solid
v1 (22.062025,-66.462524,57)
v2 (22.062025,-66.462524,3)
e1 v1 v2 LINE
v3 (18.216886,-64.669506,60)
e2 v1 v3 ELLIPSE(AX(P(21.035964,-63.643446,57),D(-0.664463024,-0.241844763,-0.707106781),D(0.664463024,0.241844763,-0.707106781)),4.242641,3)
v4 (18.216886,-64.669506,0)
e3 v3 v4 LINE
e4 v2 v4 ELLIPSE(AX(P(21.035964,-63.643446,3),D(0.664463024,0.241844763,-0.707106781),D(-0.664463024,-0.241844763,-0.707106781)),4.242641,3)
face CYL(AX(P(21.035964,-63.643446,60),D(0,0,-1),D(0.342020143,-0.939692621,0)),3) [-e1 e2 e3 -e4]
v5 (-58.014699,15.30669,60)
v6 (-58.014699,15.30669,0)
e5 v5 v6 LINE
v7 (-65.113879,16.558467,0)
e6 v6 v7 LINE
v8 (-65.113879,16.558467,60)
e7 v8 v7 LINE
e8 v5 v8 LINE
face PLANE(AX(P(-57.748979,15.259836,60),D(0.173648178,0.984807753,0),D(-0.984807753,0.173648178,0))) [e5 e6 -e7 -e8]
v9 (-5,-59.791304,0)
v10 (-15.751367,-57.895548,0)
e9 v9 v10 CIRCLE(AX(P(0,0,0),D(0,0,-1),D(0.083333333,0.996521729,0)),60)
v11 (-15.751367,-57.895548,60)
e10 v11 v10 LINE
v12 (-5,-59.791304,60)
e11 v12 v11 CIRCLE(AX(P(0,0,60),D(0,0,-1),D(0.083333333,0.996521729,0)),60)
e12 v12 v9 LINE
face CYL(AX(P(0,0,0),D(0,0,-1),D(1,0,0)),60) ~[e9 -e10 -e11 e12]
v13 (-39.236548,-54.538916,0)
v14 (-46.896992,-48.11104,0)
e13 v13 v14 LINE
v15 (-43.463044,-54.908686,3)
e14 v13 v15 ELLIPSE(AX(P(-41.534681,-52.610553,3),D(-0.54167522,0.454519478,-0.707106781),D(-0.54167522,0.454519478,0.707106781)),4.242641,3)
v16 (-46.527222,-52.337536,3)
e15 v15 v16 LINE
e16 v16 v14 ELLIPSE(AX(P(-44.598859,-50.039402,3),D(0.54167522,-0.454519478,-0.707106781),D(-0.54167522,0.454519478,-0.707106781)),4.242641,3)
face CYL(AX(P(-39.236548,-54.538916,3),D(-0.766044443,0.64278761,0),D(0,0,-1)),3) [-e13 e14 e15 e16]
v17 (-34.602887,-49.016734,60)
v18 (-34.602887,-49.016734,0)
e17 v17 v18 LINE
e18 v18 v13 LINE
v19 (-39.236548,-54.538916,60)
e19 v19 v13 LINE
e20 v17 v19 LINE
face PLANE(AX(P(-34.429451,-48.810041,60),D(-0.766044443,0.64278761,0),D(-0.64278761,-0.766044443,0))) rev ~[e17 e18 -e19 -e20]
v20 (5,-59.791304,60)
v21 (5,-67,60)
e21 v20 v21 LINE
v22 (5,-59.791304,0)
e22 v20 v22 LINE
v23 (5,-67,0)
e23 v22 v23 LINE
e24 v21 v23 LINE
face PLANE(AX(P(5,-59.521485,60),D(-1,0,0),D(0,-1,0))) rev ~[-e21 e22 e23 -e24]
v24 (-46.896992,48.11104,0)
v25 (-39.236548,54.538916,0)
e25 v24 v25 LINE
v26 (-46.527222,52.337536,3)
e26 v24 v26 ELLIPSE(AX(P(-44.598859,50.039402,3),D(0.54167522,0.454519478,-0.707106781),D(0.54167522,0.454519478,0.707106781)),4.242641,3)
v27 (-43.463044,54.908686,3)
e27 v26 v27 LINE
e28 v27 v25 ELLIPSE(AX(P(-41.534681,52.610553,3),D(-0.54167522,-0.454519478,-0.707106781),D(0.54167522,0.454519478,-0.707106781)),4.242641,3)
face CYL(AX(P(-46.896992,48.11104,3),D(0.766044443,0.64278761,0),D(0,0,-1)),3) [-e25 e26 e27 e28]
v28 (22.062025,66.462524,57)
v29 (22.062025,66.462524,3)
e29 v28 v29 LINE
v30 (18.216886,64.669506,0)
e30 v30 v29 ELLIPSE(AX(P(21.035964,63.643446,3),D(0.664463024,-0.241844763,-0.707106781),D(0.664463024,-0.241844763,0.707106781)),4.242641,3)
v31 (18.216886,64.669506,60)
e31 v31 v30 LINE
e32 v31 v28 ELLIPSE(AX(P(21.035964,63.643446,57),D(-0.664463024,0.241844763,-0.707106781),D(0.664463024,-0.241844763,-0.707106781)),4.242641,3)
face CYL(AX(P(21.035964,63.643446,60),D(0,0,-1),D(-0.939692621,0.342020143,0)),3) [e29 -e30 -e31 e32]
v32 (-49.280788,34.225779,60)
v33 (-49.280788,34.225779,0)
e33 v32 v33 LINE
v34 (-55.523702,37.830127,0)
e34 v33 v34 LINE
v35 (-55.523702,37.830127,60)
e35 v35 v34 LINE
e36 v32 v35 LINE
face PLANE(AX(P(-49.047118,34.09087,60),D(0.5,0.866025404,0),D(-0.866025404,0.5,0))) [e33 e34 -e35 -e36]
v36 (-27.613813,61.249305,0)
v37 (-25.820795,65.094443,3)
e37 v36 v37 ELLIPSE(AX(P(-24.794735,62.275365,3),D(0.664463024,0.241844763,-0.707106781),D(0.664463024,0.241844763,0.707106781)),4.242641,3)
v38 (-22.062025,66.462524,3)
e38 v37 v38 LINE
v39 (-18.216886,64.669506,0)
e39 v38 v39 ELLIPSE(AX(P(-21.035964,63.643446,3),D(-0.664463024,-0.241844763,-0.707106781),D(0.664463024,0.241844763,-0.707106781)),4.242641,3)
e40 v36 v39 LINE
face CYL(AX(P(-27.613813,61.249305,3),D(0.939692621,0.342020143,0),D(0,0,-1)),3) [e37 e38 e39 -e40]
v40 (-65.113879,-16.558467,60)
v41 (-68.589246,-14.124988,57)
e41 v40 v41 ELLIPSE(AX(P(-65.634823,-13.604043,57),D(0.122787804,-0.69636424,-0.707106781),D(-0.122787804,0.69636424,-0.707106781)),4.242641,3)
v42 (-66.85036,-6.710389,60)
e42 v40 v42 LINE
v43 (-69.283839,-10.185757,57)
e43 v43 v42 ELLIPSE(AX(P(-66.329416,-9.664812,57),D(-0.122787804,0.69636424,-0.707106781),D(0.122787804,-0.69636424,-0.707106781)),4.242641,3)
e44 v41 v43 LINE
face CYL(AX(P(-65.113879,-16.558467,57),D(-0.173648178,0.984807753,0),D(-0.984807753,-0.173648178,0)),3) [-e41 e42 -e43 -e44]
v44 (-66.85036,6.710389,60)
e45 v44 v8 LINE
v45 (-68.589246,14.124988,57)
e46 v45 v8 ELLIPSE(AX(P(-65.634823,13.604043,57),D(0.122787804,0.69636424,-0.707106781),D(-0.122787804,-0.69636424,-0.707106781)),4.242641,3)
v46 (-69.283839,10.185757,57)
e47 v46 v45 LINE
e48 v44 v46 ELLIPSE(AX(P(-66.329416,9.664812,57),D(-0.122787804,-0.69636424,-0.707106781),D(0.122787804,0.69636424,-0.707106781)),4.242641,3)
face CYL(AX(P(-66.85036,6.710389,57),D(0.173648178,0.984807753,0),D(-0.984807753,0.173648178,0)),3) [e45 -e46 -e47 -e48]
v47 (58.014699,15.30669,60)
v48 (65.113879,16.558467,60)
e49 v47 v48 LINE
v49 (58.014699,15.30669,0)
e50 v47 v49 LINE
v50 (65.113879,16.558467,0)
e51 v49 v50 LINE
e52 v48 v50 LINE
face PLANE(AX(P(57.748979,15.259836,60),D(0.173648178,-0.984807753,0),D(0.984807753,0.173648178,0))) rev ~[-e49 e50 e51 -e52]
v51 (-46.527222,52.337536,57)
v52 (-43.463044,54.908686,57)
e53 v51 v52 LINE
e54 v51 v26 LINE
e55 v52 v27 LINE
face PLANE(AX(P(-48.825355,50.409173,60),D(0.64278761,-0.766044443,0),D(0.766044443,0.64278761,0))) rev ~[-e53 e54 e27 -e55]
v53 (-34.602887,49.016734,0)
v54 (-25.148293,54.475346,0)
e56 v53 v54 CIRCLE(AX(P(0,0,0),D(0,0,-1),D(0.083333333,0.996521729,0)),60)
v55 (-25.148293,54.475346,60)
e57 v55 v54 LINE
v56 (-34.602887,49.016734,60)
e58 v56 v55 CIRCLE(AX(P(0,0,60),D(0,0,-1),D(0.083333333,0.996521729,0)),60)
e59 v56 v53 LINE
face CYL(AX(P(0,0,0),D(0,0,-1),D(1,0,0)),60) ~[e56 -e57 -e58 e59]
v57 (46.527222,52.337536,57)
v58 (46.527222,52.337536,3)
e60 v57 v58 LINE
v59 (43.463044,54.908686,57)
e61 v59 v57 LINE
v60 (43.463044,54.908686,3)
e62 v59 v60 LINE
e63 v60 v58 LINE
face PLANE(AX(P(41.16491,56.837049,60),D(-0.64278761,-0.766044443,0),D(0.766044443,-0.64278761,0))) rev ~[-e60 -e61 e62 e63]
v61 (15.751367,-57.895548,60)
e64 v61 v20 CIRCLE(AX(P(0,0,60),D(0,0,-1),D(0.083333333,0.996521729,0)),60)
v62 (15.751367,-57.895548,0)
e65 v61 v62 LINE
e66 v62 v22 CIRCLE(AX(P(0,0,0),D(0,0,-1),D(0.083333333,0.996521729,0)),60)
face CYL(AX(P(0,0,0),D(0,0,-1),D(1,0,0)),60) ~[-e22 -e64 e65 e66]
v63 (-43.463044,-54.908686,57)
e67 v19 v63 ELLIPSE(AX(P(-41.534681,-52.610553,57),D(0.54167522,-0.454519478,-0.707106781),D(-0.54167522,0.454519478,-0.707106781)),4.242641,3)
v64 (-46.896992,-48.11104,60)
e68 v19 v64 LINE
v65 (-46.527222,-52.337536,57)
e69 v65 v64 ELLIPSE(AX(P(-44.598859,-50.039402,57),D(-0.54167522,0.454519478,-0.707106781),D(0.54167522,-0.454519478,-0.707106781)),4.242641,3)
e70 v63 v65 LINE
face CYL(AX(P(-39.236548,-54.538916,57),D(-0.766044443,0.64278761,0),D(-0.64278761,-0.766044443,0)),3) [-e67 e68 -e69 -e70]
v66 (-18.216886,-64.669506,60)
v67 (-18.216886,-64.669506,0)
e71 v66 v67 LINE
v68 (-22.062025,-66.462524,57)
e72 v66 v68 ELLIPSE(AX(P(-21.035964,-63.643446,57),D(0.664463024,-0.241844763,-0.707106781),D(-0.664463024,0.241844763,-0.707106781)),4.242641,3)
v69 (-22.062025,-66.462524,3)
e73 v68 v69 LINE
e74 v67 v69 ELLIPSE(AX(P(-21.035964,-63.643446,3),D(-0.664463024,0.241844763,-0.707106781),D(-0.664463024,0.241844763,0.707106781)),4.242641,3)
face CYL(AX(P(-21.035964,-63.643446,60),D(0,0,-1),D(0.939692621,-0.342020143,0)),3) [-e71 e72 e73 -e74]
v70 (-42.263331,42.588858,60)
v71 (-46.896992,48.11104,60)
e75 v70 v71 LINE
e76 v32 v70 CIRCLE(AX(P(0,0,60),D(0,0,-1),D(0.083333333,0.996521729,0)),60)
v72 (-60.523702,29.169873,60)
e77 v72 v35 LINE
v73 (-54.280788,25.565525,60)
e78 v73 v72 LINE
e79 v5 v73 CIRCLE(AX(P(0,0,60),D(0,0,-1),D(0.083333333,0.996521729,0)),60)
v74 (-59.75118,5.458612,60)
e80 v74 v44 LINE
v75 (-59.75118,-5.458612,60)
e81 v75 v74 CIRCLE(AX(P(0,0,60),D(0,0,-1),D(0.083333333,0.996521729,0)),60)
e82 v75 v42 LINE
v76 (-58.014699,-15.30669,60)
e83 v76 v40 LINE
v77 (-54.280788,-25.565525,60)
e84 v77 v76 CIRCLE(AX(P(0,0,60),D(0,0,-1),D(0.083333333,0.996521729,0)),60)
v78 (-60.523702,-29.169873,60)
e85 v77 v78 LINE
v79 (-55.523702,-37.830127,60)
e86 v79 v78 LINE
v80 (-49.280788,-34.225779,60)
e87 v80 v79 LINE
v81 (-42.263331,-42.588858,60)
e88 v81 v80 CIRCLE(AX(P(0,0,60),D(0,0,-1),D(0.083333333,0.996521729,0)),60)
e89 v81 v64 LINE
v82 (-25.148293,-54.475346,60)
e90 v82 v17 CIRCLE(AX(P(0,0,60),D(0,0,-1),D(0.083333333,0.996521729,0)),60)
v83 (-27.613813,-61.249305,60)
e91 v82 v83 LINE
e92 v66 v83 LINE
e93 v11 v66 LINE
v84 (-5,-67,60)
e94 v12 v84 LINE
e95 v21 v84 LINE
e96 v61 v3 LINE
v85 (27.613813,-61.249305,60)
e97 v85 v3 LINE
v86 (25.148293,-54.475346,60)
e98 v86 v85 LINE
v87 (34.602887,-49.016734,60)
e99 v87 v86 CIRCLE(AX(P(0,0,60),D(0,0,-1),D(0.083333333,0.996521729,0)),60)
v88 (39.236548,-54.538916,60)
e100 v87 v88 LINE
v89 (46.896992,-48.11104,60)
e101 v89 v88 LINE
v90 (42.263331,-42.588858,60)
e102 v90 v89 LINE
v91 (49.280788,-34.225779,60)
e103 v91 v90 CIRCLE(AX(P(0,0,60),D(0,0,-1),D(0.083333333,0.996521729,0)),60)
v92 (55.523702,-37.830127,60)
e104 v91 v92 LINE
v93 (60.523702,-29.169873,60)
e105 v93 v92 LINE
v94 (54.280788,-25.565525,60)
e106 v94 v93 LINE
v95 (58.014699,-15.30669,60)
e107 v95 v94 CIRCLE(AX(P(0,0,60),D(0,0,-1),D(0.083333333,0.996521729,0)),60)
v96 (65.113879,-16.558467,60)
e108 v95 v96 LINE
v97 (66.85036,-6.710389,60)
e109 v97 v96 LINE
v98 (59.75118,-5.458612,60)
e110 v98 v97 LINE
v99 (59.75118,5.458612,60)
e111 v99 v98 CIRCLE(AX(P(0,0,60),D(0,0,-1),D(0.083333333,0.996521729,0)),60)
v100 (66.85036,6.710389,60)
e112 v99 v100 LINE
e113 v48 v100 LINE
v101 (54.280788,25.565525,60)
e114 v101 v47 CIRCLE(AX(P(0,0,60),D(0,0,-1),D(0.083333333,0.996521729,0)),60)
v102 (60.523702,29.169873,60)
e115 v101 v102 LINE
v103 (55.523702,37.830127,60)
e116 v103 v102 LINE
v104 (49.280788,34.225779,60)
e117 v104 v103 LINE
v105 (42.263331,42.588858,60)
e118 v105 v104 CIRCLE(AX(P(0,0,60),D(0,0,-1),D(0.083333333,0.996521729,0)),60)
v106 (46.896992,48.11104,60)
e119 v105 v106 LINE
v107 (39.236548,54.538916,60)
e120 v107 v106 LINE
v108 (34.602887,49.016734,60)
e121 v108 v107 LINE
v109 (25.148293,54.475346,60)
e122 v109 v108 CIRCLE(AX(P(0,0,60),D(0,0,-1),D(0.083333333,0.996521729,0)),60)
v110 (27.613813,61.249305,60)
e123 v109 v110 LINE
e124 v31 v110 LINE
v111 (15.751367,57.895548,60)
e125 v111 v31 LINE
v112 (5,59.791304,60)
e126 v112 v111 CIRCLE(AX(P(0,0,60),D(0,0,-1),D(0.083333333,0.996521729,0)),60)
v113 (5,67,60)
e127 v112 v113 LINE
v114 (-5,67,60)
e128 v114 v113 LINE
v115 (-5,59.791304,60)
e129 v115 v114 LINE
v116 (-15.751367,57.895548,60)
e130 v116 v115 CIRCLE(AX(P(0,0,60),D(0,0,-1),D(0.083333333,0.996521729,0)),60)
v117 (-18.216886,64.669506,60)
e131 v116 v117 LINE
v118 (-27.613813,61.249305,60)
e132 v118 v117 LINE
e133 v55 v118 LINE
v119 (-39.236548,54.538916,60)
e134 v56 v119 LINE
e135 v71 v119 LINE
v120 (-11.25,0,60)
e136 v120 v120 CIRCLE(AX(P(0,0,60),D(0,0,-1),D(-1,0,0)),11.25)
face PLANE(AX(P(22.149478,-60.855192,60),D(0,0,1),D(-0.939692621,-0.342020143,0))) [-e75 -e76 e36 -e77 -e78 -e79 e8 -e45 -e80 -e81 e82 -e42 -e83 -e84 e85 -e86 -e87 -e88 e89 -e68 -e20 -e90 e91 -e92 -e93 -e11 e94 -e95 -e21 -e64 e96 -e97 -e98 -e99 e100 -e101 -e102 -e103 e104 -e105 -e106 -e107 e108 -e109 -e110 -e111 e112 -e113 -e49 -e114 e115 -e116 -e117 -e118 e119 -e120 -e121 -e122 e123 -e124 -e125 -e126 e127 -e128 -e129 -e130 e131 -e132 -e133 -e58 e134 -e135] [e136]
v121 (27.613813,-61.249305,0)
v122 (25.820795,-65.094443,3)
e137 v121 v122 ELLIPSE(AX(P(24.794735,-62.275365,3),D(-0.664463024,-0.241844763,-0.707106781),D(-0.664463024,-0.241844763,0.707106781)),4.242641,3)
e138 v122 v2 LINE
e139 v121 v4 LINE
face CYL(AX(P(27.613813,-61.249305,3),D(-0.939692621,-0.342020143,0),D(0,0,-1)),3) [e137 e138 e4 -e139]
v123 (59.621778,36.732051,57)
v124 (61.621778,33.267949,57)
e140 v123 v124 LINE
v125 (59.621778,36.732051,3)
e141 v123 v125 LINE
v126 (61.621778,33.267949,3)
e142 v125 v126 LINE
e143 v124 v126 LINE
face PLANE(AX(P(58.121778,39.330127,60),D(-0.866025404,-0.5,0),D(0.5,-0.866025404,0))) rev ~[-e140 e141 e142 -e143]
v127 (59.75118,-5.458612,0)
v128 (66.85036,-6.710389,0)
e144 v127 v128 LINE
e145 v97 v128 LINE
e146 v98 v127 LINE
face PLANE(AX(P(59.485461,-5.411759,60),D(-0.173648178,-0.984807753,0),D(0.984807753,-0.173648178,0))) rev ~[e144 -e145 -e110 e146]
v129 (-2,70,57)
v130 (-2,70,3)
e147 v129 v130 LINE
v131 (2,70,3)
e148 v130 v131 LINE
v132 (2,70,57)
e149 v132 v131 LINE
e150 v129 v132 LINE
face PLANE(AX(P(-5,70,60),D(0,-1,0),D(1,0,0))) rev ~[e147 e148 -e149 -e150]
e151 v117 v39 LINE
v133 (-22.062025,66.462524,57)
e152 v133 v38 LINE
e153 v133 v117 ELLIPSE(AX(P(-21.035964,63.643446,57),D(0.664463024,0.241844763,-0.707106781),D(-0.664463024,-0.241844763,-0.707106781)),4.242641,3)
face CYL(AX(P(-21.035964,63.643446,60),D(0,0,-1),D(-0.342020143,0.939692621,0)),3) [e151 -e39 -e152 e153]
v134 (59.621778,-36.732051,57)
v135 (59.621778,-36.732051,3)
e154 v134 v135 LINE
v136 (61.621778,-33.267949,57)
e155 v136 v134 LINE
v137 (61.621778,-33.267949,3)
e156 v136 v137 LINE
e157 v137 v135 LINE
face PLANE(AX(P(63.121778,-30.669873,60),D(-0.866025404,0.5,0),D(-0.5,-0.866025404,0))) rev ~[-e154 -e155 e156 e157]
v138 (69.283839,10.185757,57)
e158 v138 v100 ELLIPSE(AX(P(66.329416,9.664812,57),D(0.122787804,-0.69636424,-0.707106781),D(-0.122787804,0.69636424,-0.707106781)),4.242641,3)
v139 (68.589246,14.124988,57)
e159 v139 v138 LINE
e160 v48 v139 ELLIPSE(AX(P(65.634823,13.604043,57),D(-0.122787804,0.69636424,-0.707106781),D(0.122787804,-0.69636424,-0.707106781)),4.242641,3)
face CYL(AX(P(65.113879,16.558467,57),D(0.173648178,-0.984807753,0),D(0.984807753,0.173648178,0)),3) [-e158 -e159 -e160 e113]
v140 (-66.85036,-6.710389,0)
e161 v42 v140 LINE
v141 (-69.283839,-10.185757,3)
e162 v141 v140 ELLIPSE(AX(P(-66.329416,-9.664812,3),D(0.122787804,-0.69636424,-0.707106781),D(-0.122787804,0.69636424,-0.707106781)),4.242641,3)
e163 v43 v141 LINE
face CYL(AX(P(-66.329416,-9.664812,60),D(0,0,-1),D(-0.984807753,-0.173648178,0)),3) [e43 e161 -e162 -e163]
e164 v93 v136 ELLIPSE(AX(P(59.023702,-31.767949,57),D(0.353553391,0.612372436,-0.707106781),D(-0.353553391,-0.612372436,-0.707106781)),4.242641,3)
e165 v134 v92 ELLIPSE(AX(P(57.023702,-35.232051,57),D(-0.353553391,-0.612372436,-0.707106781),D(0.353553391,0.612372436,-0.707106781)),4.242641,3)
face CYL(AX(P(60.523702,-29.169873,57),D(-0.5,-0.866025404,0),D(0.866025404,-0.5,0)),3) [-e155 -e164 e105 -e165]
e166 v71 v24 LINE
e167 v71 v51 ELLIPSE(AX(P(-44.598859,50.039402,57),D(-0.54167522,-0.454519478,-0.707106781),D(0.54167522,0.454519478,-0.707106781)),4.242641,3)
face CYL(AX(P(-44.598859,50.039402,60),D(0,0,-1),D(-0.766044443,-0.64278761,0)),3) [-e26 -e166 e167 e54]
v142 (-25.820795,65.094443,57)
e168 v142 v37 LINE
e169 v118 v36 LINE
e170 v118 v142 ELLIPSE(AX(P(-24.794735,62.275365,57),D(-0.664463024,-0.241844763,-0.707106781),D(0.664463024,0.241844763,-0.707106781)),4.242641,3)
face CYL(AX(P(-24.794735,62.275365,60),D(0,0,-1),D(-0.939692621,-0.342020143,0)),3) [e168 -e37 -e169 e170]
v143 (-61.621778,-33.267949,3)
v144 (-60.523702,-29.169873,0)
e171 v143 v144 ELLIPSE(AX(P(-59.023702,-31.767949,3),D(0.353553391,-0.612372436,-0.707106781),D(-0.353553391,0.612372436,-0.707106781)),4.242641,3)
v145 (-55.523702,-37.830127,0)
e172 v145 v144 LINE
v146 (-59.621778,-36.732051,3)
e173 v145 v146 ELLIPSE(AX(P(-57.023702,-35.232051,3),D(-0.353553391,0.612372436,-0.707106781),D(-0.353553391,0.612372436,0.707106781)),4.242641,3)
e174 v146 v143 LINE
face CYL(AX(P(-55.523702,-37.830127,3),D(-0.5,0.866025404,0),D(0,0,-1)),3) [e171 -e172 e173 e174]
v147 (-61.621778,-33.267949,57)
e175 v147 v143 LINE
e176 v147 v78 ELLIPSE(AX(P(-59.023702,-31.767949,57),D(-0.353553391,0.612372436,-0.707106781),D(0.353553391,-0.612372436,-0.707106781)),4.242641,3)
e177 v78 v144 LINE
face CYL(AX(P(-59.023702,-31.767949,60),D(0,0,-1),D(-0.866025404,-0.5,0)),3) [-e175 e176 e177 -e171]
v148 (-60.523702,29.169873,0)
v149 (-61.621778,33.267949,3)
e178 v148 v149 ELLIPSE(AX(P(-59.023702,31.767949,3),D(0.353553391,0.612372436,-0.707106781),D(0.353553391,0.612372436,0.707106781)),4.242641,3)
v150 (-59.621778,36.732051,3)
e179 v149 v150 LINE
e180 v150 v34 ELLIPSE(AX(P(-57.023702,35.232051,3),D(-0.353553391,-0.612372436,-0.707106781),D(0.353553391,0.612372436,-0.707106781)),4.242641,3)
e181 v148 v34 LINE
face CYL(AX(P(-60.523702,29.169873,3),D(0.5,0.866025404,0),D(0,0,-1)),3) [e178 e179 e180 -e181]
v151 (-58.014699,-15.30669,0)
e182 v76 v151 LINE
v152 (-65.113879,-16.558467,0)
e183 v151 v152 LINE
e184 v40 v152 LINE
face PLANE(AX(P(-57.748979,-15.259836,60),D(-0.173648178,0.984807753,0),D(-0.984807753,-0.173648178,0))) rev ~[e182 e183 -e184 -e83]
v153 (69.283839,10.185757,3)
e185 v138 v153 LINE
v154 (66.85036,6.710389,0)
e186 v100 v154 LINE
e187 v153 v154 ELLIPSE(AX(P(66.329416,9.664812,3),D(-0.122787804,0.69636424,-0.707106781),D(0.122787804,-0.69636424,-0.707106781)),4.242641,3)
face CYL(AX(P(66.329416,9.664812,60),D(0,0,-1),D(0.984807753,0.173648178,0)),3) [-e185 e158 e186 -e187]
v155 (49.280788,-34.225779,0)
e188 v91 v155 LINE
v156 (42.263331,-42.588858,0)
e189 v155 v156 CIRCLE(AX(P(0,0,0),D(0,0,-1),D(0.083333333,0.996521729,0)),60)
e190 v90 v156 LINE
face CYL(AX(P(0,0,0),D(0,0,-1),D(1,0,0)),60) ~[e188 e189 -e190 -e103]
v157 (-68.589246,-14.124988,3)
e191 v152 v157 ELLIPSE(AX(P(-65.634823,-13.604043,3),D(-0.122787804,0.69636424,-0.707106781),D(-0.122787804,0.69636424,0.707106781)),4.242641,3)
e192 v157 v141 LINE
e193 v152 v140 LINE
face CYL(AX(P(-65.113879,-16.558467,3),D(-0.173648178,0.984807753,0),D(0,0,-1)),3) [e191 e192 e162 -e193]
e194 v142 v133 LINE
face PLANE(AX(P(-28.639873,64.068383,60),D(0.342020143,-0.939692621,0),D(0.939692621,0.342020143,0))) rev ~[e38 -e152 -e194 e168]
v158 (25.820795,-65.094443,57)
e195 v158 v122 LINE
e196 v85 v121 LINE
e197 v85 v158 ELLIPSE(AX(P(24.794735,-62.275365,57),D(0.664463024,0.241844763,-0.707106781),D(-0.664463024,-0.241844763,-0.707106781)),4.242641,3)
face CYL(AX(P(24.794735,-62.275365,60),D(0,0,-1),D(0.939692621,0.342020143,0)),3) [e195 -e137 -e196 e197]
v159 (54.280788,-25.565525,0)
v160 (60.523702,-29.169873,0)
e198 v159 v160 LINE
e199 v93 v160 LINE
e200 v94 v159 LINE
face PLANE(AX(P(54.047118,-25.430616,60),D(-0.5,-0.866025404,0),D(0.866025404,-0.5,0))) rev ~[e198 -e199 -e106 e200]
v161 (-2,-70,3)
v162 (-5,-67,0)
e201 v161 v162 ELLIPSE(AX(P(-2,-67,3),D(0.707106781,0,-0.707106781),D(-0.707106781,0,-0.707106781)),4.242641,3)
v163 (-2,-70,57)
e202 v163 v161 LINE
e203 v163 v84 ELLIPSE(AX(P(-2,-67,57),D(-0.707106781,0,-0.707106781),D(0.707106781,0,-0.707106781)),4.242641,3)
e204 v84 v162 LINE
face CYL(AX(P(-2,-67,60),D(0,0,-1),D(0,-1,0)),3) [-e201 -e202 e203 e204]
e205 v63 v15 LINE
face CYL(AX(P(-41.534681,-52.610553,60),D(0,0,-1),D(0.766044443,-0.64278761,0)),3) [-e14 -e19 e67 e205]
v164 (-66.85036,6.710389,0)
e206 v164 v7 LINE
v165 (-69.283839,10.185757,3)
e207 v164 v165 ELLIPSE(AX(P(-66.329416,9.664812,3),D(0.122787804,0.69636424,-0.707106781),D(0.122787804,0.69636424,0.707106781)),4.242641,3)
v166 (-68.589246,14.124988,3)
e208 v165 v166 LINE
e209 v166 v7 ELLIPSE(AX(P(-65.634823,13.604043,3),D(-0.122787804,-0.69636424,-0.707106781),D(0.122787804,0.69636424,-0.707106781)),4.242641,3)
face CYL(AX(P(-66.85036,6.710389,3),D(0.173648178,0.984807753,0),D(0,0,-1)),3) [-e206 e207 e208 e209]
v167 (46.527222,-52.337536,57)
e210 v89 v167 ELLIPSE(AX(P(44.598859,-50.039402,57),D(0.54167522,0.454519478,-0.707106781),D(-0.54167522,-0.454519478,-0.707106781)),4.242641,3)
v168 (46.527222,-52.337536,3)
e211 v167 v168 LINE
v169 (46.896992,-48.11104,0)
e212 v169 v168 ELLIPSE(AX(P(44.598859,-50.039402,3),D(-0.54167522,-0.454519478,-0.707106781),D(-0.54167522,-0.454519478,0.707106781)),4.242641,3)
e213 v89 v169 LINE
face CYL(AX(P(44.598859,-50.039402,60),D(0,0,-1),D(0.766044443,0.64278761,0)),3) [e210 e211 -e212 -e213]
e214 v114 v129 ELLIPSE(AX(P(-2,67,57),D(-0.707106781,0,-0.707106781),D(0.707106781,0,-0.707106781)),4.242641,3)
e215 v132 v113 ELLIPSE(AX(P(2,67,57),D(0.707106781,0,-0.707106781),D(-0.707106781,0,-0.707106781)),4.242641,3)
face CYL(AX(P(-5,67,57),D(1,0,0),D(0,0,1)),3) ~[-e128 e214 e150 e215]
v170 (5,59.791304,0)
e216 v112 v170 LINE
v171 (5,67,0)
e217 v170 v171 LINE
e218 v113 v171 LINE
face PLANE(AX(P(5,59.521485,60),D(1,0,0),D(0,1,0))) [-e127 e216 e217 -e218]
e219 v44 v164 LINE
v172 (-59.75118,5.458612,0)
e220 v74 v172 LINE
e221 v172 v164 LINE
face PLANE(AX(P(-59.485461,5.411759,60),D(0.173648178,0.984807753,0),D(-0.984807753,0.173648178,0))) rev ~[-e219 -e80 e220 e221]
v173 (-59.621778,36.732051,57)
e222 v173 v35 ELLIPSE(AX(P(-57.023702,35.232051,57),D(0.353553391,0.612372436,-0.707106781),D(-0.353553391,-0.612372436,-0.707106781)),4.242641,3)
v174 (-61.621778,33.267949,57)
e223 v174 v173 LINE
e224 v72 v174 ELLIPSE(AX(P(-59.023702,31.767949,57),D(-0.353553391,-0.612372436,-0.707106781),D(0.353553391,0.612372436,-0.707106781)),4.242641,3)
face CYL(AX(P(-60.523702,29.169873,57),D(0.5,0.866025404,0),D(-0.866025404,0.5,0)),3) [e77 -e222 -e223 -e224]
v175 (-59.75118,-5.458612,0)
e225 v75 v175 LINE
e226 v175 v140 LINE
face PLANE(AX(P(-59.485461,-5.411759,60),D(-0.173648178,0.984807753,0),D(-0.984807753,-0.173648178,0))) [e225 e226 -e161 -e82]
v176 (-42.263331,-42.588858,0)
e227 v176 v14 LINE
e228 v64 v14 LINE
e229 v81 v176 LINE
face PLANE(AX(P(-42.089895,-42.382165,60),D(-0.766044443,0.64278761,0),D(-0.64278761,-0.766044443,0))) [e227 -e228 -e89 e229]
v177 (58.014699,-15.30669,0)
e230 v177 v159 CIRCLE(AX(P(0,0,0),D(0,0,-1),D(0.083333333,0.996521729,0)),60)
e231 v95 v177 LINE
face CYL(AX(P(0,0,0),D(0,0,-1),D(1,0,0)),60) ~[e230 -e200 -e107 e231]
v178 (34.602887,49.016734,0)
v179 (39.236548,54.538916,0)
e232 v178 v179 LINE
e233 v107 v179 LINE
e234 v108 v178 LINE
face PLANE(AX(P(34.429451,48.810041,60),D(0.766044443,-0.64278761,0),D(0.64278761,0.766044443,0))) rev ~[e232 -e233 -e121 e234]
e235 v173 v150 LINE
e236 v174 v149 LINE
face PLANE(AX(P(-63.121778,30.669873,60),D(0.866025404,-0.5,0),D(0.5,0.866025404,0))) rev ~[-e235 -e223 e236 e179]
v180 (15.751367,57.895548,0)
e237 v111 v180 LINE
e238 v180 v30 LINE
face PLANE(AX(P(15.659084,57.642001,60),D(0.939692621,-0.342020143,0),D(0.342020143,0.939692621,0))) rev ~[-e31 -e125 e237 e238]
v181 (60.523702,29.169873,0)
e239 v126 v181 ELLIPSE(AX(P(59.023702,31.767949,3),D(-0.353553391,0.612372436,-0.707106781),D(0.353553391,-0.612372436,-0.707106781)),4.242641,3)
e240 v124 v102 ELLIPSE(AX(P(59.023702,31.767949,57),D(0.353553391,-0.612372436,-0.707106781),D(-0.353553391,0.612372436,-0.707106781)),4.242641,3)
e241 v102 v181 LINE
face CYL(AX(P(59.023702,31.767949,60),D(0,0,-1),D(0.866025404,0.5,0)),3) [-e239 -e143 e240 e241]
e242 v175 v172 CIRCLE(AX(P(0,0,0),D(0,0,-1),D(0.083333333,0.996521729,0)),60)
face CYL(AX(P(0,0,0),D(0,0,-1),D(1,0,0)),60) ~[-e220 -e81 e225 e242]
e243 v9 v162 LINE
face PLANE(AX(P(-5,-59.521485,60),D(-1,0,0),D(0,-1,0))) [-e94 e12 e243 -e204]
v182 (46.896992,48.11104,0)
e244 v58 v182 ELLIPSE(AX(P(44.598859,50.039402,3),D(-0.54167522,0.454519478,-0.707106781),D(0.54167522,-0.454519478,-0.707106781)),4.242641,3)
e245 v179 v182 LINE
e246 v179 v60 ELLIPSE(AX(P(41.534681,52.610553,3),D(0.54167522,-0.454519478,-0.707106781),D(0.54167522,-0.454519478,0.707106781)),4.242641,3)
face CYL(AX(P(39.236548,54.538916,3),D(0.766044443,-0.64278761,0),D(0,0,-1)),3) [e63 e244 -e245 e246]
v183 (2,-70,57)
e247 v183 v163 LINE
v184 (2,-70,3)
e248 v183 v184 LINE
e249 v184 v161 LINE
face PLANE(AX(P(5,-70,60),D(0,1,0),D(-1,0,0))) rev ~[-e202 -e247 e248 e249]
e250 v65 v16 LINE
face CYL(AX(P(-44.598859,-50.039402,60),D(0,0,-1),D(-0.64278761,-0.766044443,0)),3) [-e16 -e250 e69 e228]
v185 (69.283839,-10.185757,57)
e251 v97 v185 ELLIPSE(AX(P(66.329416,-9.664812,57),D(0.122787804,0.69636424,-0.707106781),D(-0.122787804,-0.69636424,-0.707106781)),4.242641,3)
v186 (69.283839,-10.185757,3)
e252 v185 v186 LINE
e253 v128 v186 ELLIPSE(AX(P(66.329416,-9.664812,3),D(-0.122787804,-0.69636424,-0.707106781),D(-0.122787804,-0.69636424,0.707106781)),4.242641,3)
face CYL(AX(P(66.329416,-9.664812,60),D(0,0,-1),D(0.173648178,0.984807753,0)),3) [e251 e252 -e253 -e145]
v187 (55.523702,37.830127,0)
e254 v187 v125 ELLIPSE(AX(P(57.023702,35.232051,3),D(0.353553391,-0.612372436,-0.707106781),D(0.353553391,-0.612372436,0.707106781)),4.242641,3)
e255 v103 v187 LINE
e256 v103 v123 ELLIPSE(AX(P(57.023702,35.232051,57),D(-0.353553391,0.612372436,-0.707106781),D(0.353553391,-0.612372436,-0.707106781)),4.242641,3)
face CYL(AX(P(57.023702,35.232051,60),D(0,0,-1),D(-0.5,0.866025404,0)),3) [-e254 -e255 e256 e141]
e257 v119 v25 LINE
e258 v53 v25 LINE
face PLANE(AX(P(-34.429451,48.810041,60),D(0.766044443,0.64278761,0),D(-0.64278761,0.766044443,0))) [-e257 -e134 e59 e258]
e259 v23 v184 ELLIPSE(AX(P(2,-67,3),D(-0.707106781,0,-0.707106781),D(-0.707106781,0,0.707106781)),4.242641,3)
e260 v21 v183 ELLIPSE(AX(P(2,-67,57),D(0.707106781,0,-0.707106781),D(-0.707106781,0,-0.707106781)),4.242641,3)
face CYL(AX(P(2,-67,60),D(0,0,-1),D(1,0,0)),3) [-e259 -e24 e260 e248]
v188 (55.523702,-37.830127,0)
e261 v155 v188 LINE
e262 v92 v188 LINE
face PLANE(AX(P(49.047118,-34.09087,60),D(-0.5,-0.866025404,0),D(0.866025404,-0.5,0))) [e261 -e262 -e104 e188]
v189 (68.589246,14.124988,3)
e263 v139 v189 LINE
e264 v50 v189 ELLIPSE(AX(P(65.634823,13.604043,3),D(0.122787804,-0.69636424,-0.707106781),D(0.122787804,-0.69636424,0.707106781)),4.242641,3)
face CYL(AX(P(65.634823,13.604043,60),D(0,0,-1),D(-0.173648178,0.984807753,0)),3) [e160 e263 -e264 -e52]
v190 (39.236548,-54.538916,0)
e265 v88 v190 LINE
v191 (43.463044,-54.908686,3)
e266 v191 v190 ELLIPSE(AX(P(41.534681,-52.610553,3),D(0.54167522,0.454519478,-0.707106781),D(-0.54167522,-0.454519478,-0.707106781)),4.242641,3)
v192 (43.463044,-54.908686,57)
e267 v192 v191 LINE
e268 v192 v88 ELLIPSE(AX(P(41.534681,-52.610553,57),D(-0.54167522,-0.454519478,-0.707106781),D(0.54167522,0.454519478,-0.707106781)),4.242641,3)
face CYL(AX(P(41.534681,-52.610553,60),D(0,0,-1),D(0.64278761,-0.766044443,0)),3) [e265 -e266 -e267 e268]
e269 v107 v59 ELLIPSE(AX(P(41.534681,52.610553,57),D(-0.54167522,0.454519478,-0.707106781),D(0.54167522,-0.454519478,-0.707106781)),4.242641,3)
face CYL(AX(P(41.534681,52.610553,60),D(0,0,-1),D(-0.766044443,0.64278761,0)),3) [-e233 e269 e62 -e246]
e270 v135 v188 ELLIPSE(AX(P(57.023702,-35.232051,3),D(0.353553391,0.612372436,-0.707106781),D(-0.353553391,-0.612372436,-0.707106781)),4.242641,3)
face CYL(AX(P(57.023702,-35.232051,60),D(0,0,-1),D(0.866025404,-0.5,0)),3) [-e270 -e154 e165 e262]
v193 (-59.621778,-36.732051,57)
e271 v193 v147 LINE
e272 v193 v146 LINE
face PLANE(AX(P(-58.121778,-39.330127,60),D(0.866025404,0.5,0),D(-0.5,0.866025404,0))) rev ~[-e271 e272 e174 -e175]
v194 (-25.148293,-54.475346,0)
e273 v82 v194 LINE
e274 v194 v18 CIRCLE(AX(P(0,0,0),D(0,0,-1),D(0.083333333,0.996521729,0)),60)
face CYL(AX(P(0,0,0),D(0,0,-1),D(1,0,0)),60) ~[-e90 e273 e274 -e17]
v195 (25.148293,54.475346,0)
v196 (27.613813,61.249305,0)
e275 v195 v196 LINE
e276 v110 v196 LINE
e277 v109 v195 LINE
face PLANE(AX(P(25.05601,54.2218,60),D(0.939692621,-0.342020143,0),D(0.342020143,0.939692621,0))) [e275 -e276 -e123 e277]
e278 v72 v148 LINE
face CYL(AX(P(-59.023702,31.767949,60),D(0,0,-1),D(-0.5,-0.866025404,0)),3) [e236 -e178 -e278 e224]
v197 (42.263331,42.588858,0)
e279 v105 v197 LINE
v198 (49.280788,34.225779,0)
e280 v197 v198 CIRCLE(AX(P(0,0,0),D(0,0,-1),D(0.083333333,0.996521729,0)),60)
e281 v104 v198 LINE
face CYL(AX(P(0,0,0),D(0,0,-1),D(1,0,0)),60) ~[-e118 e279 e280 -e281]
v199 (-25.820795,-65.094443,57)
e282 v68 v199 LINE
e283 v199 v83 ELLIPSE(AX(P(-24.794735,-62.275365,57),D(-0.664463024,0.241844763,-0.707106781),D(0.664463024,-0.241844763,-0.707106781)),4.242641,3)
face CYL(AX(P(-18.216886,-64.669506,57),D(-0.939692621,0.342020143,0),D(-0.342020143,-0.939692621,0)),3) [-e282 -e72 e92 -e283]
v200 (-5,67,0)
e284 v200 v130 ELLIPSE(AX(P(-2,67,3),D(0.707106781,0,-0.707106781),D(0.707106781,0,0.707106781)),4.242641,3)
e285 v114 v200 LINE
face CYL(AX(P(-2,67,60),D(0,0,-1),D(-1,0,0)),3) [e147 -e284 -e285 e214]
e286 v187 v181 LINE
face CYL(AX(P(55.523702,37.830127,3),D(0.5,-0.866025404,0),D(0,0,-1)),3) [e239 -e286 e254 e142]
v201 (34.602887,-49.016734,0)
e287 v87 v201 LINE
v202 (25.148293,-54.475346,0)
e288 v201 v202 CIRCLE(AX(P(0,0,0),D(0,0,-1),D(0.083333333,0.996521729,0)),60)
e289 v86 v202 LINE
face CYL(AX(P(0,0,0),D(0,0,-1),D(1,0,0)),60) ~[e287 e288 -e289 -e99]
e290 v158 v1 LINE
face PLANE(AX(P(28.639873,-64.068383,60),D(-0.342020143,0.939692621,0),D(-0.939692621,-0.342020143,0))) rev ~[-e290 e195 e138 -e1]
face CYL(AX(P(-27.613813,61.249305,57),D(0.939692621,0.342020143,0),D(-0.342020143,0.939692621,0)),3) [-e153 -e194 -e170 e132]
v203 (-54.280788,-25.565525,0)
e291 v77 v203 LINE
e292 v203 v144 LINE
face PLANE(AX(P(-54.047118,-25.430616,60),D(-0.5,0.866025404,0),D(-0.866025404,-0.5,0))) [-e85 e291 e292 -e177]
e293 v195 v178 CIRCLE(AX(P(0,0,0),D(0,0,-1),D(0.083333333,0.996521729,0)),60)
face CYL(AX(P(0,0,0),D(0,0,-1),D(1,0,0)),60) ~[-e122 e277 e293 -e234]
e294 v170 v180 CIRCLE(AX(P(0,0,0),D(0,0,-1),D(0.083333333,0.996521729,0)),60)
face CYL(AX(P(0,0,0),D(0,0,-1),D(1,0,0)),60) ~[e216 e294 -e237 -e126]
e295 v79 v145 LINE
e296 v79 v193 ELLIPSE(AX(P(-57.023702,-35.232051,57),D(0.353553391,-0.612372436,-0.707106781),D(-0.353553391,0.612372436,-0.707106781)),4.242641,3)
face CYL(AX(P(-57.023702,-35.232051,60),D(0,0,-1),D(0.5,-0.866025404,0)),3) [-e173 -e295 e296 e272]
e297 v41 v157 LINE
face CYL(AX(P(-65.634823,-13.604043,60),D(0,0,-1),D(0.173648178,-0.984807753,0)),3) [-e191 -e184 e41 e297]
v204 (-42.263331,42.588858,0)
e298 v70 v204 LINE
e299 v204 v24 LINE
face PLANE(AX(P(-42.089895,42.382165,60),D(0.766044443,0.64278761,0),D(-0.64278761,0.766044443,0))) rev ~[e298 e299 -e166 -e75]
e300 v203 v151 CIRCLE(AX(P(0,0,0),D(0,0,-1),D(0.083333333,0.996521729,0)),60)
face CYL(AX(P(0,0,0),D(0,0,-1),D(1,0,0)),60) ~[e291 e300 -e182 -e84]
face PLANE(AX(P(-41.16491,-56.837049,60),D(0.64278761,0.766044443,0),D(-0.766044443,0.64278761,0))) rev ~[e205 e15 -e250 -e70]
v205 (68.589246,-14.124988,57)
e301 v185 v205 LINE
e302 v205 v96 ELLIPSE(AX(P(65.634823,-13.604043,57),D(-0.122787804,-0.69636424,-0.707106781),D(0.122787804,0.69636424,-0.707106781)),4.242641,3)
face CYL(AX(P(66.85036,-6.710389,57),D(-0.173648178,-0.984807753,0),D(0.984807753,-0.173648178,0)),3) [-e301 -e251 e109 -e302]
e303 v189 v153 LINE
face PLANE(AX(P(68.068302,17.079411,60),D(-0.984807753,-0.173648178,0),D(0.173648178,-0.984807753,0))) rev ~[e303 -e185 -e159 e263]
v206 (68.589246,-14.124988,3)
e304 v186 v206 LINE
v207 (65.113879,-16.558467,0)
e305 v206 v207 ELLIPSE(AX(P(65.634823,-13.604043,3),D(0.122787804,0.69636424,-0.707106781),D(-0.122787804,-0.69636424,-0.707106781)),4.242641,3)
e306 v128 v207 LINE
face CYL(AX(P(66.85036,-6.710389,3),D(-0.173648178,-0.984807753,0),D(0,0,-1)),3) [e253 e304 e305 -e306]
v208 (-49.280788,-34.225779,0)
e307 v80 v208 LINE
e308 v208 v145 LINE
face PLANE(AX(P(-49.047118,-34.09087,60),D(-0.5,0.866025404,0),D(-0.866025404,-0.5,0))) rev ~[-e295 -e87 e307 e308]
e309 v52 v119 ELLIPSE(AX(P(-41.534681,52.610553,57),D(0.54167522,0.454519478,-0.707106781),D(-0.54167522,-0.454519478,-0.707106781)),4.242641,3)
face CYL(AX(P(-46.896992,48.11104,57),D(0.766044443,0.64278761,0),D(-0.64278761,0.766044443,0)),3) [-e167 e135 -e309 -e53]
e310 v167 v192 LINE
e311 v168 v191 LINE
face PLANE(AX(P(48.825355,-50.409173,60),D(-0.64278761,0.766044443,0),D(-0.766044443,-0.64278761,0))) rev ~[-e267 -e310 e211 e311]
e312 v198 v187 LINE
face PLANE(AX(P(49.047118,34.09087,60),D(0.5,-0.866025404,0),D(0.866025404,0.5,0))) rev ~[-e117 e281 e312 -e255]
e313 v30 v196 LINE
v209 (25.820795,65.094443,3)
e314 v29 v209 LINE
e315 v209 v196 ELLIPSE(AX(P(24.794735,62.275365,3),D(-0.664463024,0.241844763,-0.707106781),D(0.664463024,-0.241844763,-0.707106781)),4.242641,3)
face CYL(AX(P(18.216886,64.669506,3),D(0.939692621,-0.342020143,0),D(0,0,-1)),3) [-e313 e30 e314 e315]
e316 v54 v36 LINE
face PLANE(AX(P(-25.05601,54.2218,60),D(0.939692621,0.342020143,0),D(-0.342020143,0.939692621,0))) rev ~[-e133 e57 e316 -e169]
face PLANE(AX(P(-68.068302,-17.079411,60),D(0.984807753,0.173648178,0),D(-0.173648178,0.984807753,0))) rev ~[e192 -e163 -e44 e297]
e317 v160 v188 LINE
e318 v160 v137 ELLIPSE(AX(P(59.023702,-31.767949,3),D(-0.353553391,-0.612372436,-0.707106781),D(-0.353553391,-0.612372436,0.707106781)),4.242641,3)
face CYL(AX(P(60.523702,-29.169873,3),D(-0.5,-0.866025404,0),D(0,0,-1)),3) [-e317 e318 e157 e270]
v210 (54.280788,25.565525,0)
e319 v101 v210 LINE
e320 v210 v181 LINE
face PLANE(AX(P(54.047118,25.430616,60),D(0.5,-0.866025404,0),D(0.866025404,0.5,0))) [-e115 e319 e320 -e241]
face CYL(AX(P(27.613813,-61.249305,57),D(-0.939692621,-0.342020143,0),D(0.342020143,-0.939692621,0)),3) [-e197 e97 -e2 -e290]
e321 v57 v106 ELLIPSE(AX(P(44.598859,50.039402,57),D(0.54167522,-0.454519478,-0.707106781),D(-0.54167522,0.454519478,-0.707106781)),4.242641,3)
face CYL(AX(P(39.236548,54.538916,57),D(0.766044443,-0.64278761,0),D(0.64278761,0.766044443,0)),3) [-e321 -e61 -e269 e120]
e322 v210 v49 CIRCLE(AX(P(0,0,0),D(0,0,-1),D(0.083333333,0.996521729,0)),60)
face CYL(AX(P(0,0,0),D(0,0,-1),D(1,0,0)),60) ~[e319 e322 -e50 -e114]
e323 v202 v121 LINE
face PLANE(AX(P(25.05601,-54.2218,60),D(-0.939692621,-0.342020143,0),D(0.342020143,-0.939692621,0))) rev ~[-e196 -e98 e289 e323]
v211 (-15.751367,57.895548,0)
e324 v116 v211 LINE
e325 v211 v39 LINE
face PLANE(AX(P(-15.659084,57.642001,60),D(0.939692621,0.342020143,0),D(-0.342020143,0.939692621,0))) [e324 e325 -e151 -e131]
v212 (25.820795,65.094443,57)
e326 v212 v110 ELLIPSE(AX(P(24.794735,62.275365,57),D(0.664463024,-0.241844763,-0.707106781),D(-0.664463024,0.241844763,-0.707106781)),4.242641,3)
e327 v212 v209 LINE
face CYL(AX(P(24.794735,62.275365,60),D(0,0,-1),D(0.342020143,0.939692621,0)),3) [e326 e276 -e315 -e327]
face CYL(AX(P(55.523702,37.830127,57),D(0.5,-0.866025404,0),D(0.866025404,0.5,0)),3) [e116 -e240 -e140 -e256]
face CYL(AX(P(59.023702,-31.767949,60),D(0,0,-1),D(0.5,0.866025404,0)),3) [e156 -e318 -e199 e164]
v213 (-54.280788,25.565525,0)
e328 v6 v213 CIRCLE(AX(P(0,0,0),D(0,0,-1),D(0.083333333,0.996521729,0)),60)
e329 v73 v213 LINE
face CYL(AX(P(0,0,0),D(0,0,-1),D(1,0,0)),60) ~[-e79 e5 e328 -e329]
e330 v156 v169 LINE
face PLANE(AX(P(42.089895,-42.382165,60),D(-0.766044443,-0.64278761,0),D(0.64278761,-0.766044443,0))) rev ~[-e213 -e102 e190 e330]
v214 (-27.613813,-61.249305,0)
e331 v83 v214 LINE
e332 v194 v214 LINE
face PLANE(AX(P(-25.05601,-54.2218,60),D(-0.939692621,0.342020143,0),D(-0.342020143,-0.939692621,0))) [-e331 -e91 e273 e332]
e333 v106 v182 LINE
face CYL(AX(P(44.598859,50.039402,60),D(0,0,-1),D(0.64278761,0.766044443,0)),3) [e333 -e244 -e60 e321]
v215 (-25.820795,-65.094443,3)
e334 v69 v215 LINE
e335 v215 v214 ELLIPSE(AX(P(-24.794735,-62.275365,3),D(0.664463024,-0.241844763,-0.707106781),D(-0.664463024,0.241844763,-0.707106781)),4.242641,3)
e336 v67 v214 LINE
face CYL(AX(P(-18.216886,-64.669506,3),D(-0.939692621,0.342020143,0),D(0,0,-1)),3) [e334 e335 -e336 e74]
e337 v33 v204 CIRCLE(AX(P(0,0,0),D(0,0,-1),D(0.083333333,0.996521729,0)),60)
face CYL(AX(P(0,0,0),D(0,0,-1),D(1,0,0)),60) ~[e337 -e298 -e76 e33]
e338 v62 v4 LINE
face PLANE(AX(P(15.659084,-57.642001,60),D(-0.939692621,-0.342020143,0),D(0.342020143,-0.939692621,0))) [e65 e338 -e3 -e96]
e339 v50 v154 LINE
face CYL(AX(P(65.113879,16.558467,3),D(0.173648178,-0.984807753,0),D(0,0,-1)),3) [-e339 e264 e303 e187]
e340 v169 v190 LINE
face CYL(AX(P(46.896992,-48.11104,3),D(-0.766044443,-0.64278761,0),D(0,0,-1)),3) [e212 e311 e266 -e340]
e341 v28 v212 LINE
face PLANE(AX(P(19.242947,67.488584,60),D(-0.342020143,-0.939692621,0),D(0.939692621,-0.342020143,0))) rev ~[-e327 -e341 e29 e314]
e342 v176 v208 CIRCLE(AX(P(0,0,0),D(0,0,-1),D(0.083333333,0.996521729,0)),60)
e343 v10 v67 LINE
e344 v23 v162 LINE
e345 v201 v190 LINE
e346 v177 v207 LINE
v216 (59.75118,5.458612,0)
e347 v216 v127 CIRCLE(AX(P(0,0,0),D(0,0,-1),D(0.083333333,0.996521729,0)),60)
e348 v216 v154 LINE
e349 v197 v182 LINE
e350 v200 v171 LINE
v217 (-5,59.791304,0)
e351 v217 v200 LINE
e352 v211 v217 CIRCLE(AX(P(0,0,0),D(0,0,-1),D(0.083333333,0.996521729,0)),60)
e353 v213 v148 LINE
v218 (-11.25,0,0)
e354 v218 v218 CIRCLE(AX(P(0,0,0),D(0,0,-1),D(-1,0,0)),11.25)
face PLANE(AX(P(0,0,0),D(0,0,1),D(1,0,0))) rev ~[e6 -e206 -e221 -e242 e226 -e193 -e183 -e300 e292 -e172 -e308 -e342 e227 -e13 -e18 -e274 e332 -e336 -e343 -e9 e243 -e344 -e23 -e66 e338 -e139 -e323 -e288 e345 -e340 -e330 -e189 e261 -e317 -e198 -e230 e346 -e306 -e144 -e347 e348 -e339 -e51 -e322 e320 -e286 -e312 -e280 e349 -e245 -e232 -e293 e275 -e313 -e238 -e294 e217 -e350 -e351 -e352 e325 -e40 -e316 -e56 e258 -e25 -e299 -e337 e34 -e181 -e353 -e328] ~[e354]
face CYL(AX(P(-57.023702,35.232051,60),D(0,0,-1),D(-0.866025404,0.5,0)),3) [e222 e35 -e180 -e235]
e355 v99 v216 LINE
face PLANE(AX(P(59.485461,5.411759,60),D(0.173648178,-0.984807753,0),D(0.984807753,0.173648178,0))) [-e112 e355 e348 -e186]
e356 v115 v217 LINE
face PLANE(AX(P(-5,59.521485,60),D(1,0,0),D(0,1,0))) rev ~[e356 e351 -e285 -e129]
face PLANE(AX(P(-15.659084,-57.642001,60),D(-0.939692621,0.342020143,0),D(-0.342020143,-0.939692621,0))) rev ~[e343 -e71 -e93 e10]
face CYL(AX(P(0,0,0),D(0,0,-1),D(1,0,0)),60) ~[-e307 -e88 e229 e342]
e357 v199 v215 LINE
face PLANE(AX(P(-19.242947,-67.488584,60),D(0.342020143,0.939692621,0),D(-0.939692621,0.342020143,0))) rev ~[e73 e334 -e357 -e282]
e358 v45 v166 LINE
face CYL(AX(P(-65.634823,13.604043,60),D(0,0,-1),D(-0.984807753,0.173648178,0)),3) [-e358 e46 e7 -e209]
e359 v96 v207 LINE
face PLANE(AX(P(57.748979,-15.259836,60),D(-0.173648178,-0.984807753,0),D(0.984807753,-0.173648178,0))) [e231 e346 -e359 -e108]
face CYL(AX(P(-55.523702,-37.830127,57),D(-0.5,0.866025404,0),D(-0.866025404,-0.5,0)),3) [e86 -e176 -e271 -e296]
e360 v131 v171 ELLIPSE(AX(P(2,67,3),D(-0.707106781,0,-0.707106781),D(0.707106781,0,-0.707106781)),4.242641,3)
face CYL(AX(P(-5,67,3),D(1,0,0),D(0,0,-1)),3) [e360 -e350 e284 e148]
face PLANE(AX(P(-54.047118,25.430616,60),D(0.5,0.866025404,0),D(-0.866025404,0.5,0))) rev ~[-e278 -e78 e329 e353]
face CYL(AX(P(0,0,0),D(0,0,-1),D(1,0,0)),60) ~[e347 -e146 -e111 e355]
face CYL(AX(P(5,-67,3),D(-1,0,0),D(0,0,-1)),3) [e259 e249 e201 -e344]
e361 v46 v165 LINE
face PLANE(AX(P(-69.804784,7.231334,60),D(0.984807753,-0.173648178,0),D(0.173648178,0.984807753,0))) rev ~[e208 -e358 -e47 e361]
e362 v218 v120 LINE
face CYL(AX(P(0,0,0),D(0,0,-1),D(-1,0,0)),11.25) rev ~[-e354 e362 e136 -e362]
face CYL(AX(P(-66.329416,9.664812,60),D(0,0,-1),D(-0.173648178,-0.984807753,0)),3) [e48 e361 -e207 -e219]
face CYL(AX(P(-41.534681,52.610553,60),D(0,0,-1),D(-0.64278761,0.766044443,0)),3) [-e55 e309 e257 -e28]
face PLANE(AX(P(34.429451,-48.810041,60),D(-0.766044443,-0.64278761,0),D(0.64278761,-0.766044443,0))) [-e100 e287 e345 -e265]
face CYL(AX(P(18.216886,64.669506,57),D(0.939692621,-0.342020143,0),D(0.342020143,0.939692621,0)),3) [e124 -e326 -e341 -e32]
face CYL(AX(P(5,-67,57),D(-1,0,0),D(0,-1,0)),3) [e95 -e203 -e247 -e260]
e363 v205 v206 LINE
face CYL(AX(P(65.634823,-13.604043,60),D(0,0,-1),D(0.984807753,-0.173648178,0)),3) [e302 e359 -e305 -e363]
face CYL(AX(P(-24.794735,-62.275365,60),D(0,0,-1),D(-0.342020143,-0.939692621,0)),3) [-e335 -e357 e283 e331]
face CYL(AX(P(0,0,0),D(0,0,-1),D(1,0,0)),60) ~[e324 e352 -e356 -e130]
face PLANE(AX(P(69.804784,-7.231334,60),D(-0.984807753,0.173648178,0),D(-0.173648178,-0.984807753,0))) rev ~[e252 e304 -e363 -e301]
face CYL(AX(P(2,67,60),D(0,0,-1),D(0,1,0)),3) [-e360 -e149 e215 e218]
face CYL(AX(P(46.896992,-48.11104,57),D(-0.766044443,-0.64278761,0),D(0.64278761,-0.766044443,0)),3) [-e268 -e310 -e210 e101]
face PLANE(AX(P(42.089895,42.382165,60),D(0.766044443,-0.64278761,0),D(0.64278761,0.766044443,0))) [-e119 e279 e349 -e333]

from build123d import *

# Parameters (mm, degrees)
SKETCH2_R                = 60
BOSS_EXTRUDE1_DEPTH      = 60
SKETCH3_W                = 10
SKETCH3_H                = 10.47851478
BOSS_EXTRUDE2_DEPTH      = 60
FILLET2_R                = 3
CIRPATTERN1_COUNT        = 18
FILLET2_OF_CIRPATTERN1_R = 3
SKETCH4_R                = 10
CUT_EXTRUDE1_DEPTH       = 60
SKETCH5_R                = 11.25
CUT_EXTRUDE2_DEPTH       = 60


with BuildPart() as part:
    # Sketch2 → Boss-Extrude1 (new body)
    with BuildSketch(Plane.XY):
        Circle(SKETCH2_R)
    extrude(amount=BOSS_EXTRUDE1_DEPTH)

    # Sketch3 → Boss-Extrude2 (add)
    with BuildSketch(Plane.XY.offset(60)):
        with Locations((0, 64.76074261)):
            Rectangle(SKETCH3_W, SKETCH3_H)
    boss_extrude2 = extrude(amount=-BOSS_EXTRUDE2_DEPTH)

    # Fillet2
    fillet2_edges = [part.edges().sort_by_distance(p)[0] for p in [
        (5, 70, 30),
        (0, 70, 0),
        (-5, 70, 30),
        (0, 70, 60),
    ]]
    fillet(fillet2_edges, radius=FILLET2_R)

    # CirPattern1: Boss-Extrude2 ×18 about axis
    cirpattern1_axis = Axis((0, 0, 0), (0, 0, 1))
    for i in range(1, CIRPATTERN1_COUNT):
        add(boss_extrude2.rotate(cirpattern1_axis, i * 360 / CIRPATTERN1_COUNT))

    # Fillet2 of CirPattern1
    fillet2_of_cirpattern1_edges = [part.edges().sort_by_distance(p)[0] for p in [
        (-19.242946929, 67.488584172, 30),
        (-23.941410033, 65.778483455, 0),
        (-28.639873137, 64.068382738, 30),
        (-23.941410033, 65.778483455, 60),
        (-41.164910462, 56.837049067, 30),
        (-44.995132678, 53.623111018, 0),
        (-48.825354894, 50.40917297, 30),
        (-44.995132678, 53.623111018, 60),
        (-58.121778265, 39.330127019, 30),
        (-60.621778265, 35, 0),
        (-63.121778265, 30.669872981, 30),
        (-60.621778265, 35, 60),
        (-68.068301823, 17.079411202, 30),
        (-68.936542711, 12.155372437, 0),
        (-69.804783599, 7.231333672, 30),
        (-68.936542711, 12.155372437, 60),
        (-69.804783599, -7.231333672, 30),
        (-68.936542711, -12.155372437, 0),
        (-68.068301823, -17.079411202, 30),
        (-68.936542711, -12.155372437, 60),
        (-63.121778265, -30.669872981, 30),
        (-60.621778265, -35, 0),
        (-58.121778265, -39.330127019, 30),
        (-60.621778265, -35, 60),
        (-48.825354894, -50.40917297, 30),
        (-44.995132678, -53.623111018, 0),
        (-41.164910462, -56.837049067, 30),
        (-44.995132678, -53.623111018, 60),
        (-28.639873137, -64.068382738, 30),
        (-23.941410033, -65.778483455, 0),
        (-19.242946929, -67.488584172, 30),
        (-23.941410033, -65.778483455, 60),
        (-5, -70, 30),
        (0, -70, 0),
        (5, -70, 30),
        (0, -70, 60),
        (19.242946929, -67.488584172, 30),
        (23.941410033, -65.778483455, 0),
        (28.639873137, -64.068382738, 30),
        (23.941410033, -65.778483455, 60),
        (41.164910462, -56.837049067, 30),
        (44.995132678, -53.623111018, 0),
        (48.825354894, -50.40917297, 30),
        (44.995132678, -53.623111018, 60),
        (58.121778265, -39.330127019, 30),
        (60.621778265, -35, 0),
        (63.121778265, -30.669872981, 30),
        (60.621778265, -35, 60),
        (68.068301823, -17.079411202, 30),
        (68.936542711, -12.155372437, 0),
        (69.804783599, -7.231333672, 30),
        (68.936542711, -12.155372437, 60),
        (69.804783599, 7.231333672, 30),
        (68.936542711, 12.155372437, 0),
        (68.068301823, 17.079411202, 30),
        (68.936542711, 12.155372437, 60),
        (63.121778265, 30.669872981, 30),
        (60.621778265, 35, 0),
        (58.121778265, 39.330127019, 30),
        (60.621778265, 35, 60),
        (48.825354894, 50.40917297, 30),
        (44.995132678, 53.623111018, 0),
        (41.164910462, 56.837049067, 30),
        (44.995132678, 53.623111018, 60),
        (28.639873137, 64.068382738, 30),
        (23.941410033, 65.778483455, 0),
        (19.242946929, 67.488584172, 30),
        (23.941410033, 65.778483455, 60),
    ]]
    fillet(fillet2_of_cirpattern1_edges, radius=FILLET2_OF_CIRPATTERN1_R)

    # Sketch4 → Cut-Extrude1 (cut)
    with BuildSketch(Plane.XY.offset(60)):
        Circle(SKETCH4_R)
    extrude(amount=-CUT_EXTRUDE1_DEPTH, mode=Mode.SUBTRACT)

    # Sketch5 → Cut-Extrude2 (cut)
    with BuildSketch(Plane(origin=(0, 0, 0), x_dir=(-1, 0, 0), z_dir=(0, 0, -1))):
        Circle(SKETCH5_R)
    extrude(amount=-CUT_EXTRUDE2_DEPTH, mode=Mode.SUBTRACT)


solid = part.part
